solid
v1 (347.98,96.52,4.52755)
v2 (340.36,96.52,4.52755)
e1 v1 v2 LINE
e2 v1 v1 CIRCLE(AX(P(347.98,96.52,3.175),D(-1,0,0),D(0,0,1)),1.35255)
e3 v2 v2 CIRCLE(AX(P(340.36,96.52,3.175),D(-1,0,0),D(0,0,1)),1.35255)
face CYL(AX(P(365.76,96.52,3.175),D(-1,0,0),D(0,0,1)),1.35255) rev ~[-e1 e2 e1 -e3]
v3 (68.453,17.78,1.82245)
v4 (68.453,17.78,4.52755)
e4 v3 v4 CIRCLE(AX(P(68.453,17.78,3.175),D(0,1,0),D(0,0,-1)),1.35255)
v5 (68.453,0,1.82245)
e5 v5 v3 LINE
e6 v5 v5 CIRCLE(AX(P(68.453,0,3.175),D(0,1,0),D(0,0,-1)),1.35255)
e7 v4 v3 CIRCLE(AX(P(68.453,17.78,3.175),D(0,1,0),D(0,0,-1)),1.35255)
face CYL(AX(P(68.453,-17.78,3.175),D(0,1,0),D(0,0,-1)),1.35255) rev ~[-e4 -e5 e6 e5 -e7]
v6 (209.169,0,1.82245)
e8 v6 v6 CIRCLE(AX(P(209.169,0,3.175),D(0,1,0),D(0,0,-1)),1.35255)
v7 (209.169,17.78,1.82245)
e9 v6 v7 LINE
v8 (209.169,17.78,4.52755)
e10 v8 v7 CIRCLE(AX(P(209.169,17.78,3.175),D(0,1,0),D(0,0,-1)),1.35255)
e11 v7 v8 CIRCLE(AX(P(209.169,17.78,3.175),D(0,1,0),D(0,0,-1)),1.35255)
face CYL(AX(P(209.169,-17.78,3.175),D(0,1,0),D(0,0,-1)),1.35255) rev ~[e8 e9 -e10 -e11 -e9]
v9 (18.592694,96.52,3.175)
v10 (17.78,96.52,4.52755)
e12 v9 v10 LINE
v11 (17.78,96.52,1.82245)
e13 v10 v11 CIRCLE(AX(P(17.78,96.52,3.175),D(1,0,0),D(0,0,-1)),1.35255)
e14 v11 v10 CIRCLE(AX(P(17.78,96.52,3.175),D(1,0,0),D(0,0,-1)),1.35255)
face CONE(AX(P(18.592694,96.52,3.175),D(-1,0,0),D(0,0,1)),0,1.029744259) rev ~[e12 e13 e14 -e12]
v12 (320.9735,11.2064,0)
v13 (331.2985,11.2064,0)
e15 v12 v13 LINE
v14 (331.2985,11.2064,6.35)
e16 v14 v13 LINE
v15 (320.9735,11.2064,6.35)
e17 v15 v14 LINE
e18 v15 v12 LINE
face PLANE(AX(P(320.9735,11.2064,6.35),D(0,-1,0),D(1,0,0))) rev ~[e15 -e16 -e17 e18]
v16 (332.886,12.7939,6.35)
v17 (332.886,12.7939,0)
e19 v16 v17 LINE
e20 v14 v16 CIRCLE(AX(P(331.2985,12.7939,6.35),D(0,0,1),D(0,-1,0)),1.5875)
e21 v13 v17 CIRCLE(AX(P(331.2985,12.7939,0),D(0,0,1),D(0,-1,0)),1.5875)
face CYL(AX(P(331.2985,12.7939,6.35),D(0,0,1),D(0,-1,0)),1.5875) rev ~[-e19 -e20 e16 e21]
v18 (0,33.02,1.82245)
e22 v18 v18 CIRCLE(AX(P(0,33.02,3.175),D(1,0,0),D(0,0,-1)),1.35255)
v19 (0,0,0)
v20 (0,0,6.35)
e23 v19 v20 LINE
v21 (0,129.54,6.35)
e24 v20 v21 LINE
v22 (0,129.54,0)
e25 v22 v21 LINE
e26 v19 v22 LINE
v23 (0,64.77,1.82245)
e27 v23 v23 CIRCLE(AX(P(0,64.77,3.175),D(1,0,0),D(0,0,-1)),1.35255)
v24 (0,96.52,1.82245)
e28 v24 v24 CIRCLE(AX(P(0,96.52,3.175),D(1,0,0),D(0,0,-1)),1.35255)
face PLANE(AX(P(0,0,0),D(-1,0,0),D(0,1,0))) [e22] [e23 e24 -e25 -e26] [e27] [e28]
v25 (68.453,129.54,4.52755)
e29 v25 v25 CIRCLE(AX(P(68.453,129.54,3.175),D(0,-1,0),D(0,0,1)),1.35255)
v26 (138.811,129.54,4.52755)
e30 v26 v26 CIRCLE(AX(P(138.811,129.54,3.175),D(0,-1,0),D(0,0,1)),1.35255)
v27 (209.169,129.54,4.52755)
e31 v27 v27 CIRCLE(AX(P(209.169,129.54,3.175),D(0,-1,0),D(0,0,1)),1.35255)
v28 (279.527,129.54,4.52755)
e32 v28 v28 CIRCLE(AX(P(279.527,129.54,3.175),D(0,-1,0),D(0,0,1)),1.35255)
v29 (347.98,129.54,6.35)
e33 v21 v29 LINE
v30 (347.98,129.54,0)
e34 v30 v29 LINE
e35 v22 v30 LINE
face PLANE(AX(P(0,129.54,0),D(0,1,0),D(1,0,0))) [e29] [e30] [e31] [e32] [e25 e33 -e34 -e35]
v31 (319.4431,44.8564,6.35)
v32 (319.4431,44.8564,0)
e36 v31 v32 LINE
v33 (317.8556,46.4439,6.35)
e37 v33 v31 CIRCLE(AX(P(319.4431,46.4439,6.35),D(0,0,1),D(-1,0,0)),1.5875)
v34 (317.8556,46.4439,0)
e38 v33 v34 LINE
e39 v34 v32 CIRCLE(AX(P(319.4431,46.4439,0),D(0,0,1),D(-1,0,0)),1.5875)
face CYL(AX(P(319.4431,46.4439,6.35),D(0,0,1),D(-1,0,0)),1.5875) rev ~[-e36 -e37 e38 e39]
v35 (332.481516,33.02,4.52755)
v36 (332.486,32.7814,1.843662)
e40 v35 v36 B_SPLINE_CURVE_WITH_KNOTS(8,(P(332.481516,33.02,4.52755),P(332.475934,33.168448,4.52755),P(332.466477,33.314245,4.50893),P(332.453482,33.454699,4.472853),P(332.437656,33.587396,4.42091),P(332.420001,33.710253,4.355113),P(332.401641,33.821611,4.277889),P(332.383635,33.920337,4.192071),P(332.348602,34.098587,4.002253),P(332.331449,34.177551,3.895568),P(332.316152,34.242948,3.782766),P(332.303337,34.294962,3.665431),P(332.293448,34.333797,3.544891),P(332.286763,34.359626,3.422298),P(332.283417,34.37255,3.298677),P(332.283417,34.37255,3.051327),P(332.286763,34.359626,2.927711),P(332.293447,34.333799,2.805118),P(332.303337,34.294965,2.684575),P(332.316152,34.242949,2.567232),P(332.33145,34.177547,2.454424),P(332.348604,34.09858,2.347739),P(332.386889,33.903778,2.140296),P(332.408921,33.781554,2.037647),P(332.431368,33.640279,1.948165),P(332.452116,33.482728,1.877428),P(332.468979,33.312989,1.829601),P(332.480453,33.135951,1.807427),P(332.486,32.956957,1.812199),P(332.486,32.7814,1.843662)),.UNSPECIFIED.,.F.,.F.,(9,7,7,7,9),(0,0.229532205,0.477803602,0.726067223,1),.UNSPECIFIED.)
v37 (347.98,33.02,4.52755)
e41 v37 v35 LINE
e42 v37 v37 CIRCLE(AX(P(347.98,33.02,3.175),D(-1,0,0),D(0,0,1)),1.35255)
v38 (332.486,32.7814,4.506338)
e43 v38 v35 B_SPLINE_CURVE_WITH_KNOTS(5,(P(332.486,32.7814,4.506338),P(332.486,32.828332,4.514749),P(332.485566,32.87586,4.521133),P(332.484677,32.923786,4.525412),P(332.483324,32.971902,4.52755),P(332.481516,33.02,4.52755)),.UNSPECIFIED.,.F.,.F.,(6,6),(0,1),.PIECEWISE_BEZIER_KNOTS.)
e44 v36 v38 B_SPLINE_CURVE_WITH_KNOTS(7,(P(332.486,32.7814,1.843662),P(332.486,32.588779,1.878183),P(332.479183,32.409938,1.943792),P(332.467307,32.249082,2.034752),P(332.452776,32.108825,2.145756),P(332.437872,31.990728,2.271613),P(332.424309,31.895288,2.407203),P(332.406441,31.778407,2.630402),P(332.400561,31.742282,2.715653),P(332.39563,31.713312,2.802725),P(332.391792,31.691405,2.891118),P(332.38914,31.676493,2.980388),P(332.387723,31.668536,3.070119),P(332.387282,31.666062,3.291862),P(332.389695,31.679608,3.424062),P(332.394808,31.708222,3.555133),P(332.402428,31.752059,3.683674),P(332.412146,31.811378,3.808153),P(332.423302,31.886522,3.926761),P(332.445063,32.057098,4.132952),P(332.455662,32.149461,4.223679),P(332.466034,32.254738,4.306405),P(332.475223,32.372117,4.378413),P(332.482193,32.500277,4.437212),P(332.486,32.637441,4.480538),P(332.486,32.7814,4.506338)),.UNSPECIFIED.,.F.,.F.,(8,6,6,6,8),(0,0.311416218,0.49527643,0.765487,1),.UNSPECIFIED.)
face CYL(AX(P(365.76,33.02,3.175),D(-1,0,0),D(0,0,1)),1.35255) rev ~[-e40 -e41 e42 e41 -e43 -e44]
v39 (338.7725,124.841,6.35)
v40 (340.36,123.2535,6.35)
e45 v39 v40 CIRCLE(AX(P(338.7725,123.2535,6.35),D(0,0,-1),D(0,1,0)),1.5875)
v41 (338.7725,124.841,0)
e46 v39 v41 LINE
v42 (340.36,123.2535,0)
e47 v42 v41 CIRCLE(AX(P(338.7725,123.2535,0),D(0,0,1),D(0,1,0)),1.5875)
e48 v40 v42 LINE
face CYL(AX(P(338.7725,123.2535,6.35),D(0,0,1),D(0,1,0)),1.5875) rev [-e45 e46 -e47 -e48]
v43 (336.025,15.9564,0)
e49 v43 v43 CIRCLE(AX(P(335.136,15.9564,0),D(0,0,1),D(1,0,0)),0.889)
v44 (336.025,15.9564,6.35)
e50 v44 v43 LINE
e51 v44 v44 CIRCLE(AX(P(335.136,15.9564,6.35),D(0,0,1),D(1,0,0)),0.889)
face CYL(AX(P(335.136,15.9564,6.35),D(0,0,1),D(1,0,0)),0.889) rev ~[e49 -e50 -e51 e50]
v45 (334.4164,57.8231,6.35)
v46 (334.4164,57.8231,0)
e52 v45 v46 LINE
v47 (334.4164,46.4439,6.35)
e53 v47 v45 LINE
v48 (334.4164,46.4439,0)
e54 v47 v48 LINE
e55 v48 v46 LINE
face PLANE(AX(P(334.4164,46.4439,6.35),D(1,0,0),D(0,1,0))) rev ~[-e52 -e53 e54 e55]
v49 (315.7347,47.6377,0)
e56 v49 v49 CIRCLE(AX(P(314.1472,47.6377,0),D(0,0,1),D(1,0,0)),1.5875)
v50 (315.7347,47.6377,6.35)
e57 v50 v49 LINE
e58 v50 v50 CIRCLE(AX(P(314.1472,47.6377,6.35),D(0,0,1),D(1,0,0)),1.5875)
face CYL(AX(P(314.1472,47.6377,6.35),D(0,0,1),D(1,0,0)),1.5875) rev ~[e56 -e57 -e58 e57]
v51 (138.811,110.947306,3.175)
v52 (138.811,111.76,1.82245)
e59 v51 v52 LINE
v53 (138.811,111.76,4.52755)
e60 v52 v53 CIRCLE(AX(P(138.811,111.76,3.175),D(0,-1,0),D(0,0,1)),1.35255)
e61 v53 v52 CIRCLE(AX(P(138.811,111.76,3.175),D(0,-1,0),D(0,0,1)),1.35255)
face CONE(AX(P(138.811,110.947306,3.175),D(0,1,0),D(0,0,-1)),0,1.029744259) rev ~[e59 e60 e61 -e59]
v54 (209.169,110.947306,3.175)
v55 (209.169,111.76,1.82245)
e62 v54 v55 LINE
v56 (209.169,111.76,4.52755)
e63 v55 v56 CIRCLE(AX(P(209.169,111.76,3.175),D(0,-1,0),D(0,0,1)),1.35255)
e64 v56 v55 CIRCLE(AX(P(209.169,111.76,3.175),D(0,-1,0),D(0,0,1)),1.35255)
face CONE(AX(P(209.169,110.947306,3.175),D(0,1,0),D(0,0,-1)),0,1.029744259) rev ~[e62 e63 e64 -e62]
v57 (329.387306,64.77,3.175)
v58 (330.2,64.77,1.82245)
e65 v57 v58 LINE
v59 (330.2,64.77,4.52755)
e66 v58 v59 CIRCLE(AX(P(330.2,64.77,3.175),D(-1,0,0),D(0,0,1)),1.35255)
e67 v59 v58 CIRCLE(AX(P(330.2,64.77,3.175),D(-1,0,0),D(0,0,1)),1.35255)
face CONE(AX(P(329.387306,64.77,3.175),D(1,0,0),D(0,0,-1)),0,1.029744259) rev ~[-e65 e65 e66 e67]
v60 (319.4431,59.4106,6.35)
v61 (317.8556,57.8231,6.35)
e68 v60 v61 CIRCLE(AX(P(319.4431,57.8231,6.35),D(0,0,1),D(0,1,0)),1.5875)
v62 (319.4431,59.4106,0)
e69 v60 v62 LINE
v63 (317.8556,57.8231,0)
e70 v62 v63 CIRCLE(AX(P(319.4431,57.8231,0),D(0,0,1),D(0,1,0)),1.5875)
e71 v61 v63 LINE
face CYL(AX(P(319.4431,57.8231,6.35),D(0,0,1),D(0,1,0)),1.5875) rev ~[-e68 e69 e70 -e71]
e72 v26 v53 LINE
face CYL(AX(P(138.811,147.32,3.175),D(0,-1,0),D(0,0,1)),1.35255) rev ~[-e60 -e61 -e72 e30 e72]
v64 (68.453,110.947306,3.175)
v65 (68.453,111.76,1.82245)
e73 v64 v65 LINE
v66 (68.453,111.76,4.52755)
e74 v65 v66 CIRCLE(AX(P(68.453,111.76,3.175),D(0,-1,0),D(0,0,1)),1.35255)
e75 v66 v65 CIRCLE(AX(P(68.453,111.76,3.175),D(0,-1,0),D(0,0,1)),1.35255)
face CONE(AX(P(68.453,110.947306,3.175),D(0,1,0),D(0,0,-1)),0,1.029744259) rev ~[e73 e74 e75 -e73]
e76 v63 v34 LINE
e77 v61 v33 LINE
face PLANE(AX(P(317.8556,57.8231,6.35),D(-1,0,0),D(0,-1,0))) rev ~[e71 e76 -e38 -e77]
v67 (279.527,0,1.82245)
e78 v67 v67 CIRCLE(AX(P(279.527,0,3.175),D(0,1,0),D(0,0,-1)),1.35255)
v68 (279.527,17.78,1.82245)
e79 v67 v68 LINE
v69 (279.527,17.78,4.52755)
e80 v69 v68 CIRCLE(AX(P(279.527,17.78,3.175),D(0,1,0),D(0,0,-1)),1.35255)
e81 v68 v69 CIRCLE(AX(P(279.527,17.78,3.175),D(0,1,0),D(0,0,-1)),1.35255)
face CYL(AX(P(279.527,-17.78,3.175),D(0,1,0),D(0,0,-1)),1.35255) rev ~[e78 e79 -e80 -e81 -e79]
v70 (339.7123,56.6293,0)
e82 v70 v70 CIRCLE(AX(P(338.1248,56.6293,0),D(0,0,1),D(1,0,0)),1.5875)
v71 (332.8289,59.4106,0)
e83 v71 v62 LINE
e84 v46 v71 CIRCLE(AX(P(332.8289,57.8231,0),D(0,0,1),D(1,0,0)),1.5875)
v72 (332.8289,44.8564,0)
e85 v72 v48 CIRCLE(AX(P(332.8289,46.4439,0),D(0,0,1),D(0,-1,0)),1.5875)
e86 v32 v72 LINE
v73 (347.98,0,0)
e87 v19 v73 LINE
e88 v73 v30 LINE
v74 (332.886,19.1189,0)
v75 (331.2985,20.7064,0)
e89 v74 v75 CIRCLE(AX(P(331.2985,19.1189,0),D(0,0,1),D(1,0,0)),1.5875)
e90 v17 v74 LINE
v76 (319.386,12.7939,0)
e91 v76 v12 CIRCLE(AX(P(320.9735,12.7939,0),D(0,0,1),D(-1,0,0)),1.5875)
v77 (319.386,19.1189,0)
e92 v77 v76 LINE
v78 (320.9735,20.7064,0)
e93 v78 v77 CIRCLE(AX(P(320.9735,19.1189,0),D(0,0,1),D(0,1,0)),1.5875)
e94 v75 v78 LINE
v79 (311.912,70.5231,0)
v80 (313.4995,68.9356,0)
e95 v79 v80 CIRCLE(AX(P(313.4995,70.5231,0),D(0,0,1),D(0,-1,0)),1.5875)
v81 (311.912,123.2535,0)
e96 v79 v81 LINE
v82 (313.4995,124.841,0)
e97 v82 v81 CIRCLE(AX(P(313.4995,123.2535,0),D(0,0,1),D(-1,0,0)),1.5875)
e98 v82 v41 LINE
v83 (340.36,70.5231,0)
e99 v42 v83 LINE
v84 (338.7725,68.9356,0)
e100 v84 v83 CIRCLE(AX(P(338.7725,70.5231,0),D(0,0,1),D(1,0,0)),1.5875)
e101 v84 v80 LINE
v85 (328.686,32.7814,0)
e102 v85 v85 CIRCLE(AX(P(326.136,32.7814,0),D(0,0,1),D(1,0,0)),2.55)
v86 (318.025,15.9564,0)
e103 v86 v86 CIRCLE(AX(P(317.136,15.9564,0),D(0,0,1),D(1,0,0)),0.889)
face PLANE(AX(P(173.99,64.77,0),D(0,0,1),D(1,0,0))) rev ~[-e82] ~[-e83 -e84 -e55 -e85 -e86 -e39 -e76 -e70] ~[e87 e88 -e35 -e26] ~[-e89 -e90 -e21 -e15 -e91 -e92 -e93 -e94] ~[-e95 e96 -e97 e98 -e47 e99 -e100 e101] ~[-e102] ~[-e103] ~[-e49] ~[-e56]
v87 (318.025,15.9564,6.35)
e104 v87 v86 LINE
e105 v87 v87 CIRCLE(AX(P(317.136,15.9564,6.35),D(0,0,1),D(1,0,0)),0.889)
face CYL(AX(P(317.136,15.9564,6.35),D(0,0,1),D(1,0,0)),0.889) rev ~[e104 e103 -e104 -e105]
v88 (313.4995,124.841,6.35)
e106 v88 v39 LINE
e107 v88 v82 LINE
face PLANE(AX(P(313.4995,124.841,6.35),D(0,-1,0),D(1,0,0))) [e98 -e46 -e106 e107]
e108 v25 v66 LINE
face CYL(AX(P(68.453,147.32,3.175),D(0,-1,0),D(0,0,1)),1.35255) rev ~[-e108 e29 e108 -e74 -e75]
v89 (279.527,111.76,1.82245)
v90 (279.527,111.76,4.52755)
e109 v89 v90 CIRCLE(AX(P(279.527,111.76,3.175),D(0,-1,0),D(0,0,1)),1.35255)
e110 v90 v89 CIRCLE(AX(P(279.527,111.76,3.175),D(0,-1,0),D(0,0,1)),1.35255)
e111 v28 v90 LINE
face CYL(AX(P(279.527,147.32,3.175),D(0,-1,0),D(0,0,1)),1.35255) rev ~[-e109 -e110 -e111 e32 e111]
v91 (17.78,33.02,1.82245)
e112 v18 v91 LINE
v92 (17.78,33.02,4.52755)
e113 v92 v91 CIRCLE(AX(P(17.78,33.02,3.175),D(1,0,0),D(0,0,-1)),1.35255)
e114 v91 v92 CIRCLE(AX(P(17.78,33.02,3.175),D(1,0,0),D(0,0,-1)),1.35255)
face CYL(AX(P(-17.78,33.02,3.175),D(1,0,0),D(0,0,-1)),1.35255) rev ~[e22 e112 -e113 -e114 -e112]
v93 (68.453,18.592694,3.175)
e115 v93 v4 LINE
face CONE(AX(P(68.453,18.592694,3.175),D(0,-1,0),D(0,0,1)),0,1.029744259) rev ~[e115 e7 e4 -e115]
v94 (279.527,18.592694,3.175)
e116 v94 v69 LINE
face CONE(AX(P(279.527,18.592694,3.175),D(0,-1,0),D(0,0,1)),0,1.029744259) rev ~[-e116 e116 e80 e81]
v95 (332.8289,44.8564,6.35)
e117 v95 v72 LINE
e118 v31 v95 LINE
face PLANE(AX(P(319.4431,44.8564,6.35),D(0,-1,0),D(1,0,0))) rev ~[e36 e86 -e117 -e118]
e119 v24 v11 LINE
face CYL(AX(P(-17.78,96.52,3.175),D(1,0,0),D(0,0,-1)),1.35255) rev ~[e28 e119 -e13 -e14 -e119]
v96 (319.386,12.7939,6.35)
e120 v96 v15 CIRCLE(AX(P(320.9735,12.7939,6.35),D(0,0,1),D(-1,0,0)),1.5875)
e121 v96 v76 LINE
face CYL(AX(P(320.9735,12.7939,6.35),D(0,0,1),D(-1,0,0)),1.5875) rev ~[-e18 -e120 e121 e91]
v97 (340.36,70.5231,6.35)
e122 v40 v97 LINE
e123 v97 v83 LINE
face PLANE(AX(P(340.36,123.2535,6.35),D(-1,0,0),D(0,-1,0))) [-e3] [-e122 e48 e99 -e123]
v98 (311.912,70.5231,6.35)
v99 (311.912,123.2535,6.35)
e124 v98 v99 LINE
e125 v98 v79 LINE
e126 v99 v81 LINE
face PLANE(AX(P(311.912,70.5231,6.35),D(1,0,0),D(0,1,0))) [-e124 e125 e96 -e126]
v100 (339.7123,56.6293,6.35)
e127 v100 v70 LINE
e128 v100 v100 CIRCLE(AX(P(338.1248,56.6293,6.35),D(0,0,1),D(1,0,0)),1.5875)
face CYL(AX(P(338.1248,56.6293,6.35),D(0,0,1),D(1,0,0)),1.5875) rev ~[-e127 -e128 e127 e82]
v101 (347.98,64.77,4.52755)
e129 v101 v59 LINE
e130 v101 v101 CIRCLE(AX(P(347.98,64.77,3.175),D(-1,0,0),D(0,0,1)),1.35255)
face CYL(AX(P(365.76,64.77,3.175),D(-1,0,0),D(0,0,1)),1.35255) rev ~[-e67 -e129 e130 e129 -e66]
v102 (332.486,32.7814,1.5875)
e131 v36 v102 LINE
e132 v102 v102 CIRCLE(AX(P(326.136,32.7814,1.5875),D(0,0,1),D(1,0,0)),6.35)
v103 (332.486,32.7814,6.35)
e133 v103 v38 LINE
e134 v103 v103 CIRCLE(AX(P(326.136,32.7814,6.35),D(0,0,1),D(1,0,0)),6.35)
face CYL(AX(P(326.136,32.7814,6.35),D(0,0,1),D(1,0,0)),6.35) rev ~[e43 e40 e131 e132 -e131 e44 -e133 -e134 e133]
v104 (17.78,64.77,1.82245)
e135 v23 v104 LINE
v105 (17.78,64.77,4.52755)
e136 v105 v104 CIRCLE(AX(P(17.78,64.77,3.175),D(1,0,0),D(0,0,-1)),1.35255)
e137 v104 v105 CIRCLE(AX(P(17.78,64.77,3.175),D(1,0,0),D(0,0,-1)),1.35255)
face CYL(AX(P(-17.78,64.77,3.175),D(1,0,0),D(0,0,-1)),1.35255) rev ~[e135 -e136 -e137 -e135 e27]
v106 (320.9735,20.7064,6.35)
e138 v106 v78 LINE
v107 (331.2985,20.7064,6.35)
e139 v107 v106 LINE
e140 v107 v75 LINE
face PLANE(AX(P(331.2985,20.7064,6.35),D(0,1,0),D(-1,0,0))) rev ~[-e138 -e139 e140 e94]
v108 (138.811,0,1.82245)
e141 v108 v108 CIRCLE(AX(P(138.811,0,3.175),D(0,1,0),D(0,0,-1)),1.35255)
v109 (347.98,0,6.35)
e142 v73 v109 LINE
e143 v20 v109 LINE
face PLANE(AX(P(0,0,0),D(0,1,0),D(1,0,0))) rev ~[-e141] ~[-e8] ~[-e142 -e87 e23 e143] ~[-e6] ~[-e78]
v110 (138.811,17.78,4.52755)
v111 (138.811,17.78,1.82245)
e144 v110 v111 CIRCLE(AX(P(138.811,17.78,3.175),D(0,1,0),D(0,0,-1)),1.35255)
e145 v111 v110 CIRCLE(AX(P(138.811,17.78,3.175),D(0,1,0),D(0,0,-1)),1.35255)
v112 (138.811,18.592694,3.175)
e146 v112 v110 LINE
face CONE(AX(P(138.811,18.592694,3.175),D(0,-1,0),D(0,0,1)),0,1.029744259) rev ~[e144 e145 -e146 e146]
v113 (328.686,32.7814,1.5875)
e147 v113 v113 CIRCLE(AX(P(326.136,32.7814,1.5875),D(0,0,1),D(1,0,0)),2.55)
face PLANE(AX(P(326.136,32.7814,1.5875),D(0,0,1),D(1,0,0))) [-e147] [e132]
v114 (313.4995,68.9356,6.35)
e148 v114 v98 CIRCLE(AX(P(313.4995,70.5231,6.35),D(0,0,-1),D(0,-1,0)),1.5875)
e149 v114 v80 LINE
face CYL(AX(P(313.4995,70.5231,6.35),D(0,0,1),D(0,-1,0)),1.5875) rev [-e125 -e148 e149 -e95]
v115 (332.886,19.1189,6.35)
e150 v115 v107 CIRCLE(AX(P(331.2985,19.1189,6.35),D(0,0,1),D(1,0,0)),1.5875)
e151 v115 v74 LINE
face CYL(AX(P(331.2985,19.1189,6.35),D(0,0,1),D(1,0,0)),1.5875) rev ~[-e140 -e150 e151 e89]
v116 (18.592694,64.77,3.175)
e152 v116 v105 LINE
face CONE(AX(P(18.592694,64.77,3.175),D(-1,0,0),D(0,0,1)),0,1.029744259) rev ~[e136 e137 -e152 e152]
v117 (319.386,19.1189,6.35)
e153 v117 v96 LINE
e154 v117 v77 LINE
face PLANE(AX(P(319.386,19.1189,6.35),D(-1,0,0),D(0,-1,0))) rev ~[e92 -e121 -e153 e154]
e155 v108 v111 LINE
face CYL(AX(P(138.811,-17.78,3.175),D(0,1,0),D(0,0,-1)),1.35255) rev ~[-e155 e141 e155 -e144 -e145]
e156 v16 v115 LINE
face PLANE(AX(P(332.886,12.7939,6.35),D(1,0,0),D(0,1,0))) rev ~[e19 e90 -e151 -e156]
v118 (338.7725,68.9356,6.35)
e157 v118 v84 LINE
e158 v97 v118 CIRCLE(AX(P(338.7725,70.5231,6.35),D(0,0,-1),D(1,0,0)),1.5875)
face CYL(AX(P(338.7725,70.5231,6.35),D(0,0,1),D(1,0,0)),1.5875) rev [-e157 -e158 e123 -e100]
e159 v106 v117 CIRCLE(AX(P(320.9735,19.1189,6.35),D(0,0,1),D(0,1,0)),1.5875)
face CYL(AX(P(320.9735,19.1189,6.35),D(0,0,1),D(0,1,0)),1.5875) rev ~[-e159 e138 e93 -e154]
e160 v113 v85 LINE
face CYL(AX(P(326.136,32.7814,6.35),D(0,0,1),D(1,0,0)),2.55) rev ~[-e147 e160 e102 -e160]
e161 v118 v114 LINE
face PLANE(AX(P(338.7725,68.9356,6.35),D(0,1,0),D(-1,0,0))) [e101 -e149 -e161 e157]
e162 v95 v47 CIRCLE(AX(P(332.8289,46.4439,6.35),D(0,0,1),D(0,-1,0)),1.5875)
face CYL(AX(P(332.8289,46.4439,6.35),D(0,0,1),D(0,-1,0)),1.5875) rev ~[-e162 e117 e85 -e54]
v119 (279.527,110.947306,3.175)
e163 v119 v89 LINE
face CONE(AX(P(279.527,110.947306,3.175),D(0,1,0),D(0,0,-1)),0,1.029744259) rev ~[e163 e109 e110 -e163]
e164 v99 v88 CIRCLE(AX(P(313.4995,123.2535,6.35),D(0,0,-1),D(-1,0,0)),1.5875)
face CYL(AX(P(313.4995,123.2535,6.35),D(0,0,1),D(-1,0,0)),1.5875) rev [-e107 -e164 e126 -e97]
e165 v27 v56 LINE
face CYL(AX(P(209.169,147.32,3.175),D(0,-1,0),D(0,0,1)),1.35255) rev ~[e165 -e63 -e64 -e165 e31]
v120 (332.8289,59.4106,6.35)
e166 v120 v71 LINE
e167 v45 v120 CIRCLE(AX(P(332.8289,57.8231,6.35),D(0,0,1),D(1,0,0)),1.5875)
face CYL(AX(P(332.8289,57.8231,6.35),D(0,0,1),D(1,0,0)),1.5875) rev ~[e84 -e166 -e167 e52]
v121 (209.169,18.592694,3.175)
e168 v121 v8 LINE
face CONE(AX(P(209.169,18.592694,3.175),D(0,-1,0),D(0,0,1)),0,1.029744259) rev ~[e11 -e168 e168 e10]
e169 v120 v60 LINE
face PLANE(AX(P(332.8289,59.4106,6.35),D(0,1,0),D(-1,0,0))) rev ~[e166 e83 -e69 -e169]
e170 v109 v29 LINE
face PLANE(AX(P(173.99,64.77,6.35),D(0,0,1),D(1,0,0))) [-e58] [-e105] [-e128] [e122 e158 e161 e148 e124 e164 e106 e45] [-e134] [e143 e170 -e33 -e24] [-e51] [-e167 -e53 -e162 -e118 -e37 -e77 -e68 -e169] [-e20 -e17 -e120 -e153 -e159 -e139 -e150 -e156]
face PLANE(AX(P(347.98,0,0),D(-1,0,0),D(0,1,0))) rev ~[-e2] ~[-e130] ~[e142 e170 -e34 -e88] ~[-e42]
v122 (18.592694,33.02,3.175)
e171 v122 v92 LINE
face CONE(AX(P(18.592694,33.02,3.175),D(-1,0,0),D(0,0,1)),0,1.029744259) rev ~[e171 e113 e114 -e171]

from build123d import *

# Parameters (mm, degrees)
SKETCH1_W                     = 347.98
SKETCH1_H                     = 129.54
BOSS_EXTRUDE1_DEPTH           = 6.35
TAP_DRILL_FOR_6_32_TAP4_D     = 2.7051
TAP_DRILL_FOR_6_32_TAP4_DEPTH = 17.78
TAP_DRILL_FOR_6_32_TAP4_TIP   = 0.81269403
TAP_DRILL_FOR_6_32_TAP1_D     = 2.7051
TAP_DRILL_FOR_6_32_TAP1_DEPTH = 17.78
TAP_DRILL_FOR_6_32_TAP1_TIP   = 0.81269403
TAP_DRILL_FOR_6_32_TAP2_D     = 2.7051
TAP_DRILL_FOR_6_32_TAP2_DEPTH = 17.78
TAP_DRILL_FOR_6_32_TAP2_TIP   = 0.81269403
SKETCH10_R                    = 0.889
SKETCH10_R_2                  = 1.5875
SKETCH10_R_3                  = 2.55
CUT_EXTRUDE1_DEPTH            = 7.35
SKETCH15_R                    = 6.35
CUT_EXTRUDE2_DEPTH            = 4.7625
TAP_DRILL_FOR_6_32_TAP5_D     = 2.7051
TAP_DRILL_FOR_6_32_TAP5_DEPTH = 17.78
TAP_DRILL_FOR_6_32_TAP5_TIP   = 0.81269403


with BuildPart() as part:
    # Sketch1 → Boss-Extrude1 (new body)
    with BuildSketch(Plane.XY):
        with Locations((173.99, 64.77)):
            Rectangle(SKETCH1_W, SKETCH1_H)
    extrude(amount=BOSS_EXTRUDE1_DEPTH)

    # Tap Drill for #6-32 Tap4
    with Locations(Plane(origin=(0, 13.303154199, -243.112488364), x_dir=(0, 0, 1), z_dir=(-1, 0, 0))):
        with Locations((-105.502511636, 81.946845801), (-105.502511636, 56.546845801), (-105.502511636, 31.146845801), (246.287488364, 83.216845801), (246.287488364, 51.466845801), (246.287488364, 19.716845801)):
            Hole(TAP_DRILL_FOR_6_32_TAP4_D / 2, depth=TAP_DRILL_FOR_6_32_TAP4_DEPTH)
            with Locations((0, 0, -(TAP_DRILL_FOR_6_32_TAP4_DEPTH + TAP_DRILL_FOR_6_32_TAP4_TIP / 2))):  # 118° drill point
                Cone(0, TAP_DRILL_FOR_6_32_TAP4_D / 2, TAP_DRILL_FOR_6_32_TAP4_TIP, mode=Mode.SUBTRACT)

    # Tap Drill for #6-32 Tap1
    with Locations(Plane(origin=(-62.924888364, 129.54, 269.187551164), x_dir=(0, 0, -1), z_dir=(0, 1, 0))):
        with Locations((266.012551164, -131.377888364), (266.012551164, -201.735888364), (266.012551164, -272.093888364), (266.012551164, -342.451888364)):
            Hole(TAP_DRILL_FOR_6_32_TAP1_D / 2, depth=TAP_DRILL_FOR_6_32_TAP1_DEPTH)
            with Locations((0, 0, -(TAP_DRILL_FOR_6_32_TAP1_DEPTH + TAP_DRILL_FOR_6_32_TAP1_TIP / 2))):  # 118° drill point
                Cone(0, TAP_DRILL_FOR_6_32_TAP1_D / 2, TAP_DRILL_FOR_6_32_TAP1_TIP, mode=Mode.SUBTRACT)

    # Tap Drill for #6-32 Tap2
    with Locations(Plane(origin=(-62.924888364, 0, 269.187551164), x_dir=(0, 0, 1), z_dir=(0, -1, 0))):
        with Locations((-266.012551164, -342.451888364), (-266.012551164, -272.093888364), (-266.012551164, -201.735888364), (-266.012551164, -131.377888364)):
            Hole(TAP_DRILL_FOR_6_32_TAP2_D / 2, depth=TAP_DRILL_FOR_6_32_TAP2_DEPTH)
            with Locations((0, 0, -(TAP_DRILL_FOR_6_32_TAP2_DEPTH + TAP_DRILL_FOR_6_32_TAP2_TIP / 2))):  # 118° drill point
                Cone(0, TAP_DRILL_FOR_6_32_TAP2_D / 2, TAP_DRILL_FOR_6_32_TAP2_TIP, mode=Mode.SUBTRACT)

    # Sketch10 → Cut-Extrude1 (cut, through all)
    with BuildSketch(Plane.XY.offset(6.35)):
        with Locations((335.136, 15.9564)):
            Circle(SKETCH10_R)
        with Locations((317.136, 15.9564)):
            Circle(SKETCH10_R)
        with Locations((338.1248, 56.6293)):
            Circle(SKETCH10_R_2)
        with Locations((314.1472, 47.6377)):
            Circle(SKETCH10_R_2)
        with Locations((326.136, 32.7814)):
            Circle(SKETCH10_R_3)
        with BuildLine():
            Line((313.4995, 124.841), (338.7725, 124.841))
            ThreePointArc((338.7725, 124.841), (339.895032015, 124.376032015), (340.36, 123.2535))
            Line((340.36, 123.2535), (340.36, 70.5231))
            ThreePointArc((340.36, 70.5231), (339.895032015, 69.400567985), (338.7725, 68.9356))
            Line((338.7725, 68.9356), (313.4995, 68.9356))
            ThreePointArc((313.4995, 68.9356), (312.376967985, 69.400567985), (311.912, 70.5231))
            Line((311.912, 70.5231), (311.912, 123.2535))
            ThreePointArc((311.912, 123.2535), (312.376967985, 124.376032015), (313.4995, 124.841))
        make_face()
        with BuildLine():
            Line((331.2985, 20.7064), (320.9735, 20.7064))
            ThreePointArc((320.9735, 20.7064), (319.850967985, 20.241432015), (319.386, 19.1189))
            Line((319.386, 19.1189), (319.386, 12.7939))
            ThreePointArc((319.386, 12.7939), (319.850967985, 11.671367985), (320.9735, 11.2064))
            Line((320.9735, 11.2064), (331.2985, 11.2064))
            ThreePointArc((331.2985, 11.2064), (332.421032015, 11.671367985), (332.886, 12.7939))
            Line((332.886, 12.7939), (332.886, 19.1189))
            ThreePointArc((332.886, 19.1189), (332.421032015, 20.241432015), (331.2985, 20.7064))
        make_face()
        with BuildLine():
            Line((332.8289, 59.4106), (319.4431, 59.4106))
            ThreePointArc((319.4431, 59.4106), (318.320567985, 58.945632015), (317.8556, 57.8231))
            Line((317.8556, 57.8231), (317.8556, 46.4439))
            ThreePointArc((317.8556, 46.4439), (318.320567985, 45.321367985), (319.4431, 44.8564))
            Line((319.4431, 44.8564), (332.8289, 44.8564))
            ThreePointArc((332.8289, 44.8564), (333.951432015, 45.321367985), (334.4164, 46.4439))
            Line((334.4164, 46.4439), (334.4164, 57.8231))
            ThreePointArc((334.4164, 57.8231), (333.951432015, 58.945632015), (332.8289, 59.4106))
        make_face()
    extrude(amount=-CUT_EXTRUDE1_DEPTH, mode=Mode.SUBTRACT)

    # Sketch15 → Cut-Extrude2 (cut)
    with BuildSketch(Plane.XY.offset(6.35)):
        with Locations((326.136, 32.7814)):
            Circle(SKETCH15_R)
    extrude(amount=-CUT_EXTRUDE2_DEPTH, mode=Mode.SUBTRACT)

    # Tap Drill for #6-32 Tap5
    with Locations(Plane(origin=(347.98, 0, 0), x_dir=(0, 0, -1), z_dir=(1, 0, 0))):
        with Locations((-3.175, 64.77), (-3.175, 96.52), (-3.175, 33.02)):
            Hole(TAP_DRILL_FOR_6_32_TAP5_D / 2, depth=TAP_DRILL_FOR_6_32_TAP5_DEPTH)
            with Locations((0, 0, -(TAP_DRILL_FOR_6_32_TAP5_DEPTH + TAP_DRILL_FOR_6_32_TAP5_TIP / 2))):  # 118° drill point
                Cone(0, TAP_DRILL_FOR_6_32_TAP5_D / 2, TAP_DRILL_FOR_6_32_TAP5_TIP, mode=Mode.SUBTRACT)


solid = part.part
